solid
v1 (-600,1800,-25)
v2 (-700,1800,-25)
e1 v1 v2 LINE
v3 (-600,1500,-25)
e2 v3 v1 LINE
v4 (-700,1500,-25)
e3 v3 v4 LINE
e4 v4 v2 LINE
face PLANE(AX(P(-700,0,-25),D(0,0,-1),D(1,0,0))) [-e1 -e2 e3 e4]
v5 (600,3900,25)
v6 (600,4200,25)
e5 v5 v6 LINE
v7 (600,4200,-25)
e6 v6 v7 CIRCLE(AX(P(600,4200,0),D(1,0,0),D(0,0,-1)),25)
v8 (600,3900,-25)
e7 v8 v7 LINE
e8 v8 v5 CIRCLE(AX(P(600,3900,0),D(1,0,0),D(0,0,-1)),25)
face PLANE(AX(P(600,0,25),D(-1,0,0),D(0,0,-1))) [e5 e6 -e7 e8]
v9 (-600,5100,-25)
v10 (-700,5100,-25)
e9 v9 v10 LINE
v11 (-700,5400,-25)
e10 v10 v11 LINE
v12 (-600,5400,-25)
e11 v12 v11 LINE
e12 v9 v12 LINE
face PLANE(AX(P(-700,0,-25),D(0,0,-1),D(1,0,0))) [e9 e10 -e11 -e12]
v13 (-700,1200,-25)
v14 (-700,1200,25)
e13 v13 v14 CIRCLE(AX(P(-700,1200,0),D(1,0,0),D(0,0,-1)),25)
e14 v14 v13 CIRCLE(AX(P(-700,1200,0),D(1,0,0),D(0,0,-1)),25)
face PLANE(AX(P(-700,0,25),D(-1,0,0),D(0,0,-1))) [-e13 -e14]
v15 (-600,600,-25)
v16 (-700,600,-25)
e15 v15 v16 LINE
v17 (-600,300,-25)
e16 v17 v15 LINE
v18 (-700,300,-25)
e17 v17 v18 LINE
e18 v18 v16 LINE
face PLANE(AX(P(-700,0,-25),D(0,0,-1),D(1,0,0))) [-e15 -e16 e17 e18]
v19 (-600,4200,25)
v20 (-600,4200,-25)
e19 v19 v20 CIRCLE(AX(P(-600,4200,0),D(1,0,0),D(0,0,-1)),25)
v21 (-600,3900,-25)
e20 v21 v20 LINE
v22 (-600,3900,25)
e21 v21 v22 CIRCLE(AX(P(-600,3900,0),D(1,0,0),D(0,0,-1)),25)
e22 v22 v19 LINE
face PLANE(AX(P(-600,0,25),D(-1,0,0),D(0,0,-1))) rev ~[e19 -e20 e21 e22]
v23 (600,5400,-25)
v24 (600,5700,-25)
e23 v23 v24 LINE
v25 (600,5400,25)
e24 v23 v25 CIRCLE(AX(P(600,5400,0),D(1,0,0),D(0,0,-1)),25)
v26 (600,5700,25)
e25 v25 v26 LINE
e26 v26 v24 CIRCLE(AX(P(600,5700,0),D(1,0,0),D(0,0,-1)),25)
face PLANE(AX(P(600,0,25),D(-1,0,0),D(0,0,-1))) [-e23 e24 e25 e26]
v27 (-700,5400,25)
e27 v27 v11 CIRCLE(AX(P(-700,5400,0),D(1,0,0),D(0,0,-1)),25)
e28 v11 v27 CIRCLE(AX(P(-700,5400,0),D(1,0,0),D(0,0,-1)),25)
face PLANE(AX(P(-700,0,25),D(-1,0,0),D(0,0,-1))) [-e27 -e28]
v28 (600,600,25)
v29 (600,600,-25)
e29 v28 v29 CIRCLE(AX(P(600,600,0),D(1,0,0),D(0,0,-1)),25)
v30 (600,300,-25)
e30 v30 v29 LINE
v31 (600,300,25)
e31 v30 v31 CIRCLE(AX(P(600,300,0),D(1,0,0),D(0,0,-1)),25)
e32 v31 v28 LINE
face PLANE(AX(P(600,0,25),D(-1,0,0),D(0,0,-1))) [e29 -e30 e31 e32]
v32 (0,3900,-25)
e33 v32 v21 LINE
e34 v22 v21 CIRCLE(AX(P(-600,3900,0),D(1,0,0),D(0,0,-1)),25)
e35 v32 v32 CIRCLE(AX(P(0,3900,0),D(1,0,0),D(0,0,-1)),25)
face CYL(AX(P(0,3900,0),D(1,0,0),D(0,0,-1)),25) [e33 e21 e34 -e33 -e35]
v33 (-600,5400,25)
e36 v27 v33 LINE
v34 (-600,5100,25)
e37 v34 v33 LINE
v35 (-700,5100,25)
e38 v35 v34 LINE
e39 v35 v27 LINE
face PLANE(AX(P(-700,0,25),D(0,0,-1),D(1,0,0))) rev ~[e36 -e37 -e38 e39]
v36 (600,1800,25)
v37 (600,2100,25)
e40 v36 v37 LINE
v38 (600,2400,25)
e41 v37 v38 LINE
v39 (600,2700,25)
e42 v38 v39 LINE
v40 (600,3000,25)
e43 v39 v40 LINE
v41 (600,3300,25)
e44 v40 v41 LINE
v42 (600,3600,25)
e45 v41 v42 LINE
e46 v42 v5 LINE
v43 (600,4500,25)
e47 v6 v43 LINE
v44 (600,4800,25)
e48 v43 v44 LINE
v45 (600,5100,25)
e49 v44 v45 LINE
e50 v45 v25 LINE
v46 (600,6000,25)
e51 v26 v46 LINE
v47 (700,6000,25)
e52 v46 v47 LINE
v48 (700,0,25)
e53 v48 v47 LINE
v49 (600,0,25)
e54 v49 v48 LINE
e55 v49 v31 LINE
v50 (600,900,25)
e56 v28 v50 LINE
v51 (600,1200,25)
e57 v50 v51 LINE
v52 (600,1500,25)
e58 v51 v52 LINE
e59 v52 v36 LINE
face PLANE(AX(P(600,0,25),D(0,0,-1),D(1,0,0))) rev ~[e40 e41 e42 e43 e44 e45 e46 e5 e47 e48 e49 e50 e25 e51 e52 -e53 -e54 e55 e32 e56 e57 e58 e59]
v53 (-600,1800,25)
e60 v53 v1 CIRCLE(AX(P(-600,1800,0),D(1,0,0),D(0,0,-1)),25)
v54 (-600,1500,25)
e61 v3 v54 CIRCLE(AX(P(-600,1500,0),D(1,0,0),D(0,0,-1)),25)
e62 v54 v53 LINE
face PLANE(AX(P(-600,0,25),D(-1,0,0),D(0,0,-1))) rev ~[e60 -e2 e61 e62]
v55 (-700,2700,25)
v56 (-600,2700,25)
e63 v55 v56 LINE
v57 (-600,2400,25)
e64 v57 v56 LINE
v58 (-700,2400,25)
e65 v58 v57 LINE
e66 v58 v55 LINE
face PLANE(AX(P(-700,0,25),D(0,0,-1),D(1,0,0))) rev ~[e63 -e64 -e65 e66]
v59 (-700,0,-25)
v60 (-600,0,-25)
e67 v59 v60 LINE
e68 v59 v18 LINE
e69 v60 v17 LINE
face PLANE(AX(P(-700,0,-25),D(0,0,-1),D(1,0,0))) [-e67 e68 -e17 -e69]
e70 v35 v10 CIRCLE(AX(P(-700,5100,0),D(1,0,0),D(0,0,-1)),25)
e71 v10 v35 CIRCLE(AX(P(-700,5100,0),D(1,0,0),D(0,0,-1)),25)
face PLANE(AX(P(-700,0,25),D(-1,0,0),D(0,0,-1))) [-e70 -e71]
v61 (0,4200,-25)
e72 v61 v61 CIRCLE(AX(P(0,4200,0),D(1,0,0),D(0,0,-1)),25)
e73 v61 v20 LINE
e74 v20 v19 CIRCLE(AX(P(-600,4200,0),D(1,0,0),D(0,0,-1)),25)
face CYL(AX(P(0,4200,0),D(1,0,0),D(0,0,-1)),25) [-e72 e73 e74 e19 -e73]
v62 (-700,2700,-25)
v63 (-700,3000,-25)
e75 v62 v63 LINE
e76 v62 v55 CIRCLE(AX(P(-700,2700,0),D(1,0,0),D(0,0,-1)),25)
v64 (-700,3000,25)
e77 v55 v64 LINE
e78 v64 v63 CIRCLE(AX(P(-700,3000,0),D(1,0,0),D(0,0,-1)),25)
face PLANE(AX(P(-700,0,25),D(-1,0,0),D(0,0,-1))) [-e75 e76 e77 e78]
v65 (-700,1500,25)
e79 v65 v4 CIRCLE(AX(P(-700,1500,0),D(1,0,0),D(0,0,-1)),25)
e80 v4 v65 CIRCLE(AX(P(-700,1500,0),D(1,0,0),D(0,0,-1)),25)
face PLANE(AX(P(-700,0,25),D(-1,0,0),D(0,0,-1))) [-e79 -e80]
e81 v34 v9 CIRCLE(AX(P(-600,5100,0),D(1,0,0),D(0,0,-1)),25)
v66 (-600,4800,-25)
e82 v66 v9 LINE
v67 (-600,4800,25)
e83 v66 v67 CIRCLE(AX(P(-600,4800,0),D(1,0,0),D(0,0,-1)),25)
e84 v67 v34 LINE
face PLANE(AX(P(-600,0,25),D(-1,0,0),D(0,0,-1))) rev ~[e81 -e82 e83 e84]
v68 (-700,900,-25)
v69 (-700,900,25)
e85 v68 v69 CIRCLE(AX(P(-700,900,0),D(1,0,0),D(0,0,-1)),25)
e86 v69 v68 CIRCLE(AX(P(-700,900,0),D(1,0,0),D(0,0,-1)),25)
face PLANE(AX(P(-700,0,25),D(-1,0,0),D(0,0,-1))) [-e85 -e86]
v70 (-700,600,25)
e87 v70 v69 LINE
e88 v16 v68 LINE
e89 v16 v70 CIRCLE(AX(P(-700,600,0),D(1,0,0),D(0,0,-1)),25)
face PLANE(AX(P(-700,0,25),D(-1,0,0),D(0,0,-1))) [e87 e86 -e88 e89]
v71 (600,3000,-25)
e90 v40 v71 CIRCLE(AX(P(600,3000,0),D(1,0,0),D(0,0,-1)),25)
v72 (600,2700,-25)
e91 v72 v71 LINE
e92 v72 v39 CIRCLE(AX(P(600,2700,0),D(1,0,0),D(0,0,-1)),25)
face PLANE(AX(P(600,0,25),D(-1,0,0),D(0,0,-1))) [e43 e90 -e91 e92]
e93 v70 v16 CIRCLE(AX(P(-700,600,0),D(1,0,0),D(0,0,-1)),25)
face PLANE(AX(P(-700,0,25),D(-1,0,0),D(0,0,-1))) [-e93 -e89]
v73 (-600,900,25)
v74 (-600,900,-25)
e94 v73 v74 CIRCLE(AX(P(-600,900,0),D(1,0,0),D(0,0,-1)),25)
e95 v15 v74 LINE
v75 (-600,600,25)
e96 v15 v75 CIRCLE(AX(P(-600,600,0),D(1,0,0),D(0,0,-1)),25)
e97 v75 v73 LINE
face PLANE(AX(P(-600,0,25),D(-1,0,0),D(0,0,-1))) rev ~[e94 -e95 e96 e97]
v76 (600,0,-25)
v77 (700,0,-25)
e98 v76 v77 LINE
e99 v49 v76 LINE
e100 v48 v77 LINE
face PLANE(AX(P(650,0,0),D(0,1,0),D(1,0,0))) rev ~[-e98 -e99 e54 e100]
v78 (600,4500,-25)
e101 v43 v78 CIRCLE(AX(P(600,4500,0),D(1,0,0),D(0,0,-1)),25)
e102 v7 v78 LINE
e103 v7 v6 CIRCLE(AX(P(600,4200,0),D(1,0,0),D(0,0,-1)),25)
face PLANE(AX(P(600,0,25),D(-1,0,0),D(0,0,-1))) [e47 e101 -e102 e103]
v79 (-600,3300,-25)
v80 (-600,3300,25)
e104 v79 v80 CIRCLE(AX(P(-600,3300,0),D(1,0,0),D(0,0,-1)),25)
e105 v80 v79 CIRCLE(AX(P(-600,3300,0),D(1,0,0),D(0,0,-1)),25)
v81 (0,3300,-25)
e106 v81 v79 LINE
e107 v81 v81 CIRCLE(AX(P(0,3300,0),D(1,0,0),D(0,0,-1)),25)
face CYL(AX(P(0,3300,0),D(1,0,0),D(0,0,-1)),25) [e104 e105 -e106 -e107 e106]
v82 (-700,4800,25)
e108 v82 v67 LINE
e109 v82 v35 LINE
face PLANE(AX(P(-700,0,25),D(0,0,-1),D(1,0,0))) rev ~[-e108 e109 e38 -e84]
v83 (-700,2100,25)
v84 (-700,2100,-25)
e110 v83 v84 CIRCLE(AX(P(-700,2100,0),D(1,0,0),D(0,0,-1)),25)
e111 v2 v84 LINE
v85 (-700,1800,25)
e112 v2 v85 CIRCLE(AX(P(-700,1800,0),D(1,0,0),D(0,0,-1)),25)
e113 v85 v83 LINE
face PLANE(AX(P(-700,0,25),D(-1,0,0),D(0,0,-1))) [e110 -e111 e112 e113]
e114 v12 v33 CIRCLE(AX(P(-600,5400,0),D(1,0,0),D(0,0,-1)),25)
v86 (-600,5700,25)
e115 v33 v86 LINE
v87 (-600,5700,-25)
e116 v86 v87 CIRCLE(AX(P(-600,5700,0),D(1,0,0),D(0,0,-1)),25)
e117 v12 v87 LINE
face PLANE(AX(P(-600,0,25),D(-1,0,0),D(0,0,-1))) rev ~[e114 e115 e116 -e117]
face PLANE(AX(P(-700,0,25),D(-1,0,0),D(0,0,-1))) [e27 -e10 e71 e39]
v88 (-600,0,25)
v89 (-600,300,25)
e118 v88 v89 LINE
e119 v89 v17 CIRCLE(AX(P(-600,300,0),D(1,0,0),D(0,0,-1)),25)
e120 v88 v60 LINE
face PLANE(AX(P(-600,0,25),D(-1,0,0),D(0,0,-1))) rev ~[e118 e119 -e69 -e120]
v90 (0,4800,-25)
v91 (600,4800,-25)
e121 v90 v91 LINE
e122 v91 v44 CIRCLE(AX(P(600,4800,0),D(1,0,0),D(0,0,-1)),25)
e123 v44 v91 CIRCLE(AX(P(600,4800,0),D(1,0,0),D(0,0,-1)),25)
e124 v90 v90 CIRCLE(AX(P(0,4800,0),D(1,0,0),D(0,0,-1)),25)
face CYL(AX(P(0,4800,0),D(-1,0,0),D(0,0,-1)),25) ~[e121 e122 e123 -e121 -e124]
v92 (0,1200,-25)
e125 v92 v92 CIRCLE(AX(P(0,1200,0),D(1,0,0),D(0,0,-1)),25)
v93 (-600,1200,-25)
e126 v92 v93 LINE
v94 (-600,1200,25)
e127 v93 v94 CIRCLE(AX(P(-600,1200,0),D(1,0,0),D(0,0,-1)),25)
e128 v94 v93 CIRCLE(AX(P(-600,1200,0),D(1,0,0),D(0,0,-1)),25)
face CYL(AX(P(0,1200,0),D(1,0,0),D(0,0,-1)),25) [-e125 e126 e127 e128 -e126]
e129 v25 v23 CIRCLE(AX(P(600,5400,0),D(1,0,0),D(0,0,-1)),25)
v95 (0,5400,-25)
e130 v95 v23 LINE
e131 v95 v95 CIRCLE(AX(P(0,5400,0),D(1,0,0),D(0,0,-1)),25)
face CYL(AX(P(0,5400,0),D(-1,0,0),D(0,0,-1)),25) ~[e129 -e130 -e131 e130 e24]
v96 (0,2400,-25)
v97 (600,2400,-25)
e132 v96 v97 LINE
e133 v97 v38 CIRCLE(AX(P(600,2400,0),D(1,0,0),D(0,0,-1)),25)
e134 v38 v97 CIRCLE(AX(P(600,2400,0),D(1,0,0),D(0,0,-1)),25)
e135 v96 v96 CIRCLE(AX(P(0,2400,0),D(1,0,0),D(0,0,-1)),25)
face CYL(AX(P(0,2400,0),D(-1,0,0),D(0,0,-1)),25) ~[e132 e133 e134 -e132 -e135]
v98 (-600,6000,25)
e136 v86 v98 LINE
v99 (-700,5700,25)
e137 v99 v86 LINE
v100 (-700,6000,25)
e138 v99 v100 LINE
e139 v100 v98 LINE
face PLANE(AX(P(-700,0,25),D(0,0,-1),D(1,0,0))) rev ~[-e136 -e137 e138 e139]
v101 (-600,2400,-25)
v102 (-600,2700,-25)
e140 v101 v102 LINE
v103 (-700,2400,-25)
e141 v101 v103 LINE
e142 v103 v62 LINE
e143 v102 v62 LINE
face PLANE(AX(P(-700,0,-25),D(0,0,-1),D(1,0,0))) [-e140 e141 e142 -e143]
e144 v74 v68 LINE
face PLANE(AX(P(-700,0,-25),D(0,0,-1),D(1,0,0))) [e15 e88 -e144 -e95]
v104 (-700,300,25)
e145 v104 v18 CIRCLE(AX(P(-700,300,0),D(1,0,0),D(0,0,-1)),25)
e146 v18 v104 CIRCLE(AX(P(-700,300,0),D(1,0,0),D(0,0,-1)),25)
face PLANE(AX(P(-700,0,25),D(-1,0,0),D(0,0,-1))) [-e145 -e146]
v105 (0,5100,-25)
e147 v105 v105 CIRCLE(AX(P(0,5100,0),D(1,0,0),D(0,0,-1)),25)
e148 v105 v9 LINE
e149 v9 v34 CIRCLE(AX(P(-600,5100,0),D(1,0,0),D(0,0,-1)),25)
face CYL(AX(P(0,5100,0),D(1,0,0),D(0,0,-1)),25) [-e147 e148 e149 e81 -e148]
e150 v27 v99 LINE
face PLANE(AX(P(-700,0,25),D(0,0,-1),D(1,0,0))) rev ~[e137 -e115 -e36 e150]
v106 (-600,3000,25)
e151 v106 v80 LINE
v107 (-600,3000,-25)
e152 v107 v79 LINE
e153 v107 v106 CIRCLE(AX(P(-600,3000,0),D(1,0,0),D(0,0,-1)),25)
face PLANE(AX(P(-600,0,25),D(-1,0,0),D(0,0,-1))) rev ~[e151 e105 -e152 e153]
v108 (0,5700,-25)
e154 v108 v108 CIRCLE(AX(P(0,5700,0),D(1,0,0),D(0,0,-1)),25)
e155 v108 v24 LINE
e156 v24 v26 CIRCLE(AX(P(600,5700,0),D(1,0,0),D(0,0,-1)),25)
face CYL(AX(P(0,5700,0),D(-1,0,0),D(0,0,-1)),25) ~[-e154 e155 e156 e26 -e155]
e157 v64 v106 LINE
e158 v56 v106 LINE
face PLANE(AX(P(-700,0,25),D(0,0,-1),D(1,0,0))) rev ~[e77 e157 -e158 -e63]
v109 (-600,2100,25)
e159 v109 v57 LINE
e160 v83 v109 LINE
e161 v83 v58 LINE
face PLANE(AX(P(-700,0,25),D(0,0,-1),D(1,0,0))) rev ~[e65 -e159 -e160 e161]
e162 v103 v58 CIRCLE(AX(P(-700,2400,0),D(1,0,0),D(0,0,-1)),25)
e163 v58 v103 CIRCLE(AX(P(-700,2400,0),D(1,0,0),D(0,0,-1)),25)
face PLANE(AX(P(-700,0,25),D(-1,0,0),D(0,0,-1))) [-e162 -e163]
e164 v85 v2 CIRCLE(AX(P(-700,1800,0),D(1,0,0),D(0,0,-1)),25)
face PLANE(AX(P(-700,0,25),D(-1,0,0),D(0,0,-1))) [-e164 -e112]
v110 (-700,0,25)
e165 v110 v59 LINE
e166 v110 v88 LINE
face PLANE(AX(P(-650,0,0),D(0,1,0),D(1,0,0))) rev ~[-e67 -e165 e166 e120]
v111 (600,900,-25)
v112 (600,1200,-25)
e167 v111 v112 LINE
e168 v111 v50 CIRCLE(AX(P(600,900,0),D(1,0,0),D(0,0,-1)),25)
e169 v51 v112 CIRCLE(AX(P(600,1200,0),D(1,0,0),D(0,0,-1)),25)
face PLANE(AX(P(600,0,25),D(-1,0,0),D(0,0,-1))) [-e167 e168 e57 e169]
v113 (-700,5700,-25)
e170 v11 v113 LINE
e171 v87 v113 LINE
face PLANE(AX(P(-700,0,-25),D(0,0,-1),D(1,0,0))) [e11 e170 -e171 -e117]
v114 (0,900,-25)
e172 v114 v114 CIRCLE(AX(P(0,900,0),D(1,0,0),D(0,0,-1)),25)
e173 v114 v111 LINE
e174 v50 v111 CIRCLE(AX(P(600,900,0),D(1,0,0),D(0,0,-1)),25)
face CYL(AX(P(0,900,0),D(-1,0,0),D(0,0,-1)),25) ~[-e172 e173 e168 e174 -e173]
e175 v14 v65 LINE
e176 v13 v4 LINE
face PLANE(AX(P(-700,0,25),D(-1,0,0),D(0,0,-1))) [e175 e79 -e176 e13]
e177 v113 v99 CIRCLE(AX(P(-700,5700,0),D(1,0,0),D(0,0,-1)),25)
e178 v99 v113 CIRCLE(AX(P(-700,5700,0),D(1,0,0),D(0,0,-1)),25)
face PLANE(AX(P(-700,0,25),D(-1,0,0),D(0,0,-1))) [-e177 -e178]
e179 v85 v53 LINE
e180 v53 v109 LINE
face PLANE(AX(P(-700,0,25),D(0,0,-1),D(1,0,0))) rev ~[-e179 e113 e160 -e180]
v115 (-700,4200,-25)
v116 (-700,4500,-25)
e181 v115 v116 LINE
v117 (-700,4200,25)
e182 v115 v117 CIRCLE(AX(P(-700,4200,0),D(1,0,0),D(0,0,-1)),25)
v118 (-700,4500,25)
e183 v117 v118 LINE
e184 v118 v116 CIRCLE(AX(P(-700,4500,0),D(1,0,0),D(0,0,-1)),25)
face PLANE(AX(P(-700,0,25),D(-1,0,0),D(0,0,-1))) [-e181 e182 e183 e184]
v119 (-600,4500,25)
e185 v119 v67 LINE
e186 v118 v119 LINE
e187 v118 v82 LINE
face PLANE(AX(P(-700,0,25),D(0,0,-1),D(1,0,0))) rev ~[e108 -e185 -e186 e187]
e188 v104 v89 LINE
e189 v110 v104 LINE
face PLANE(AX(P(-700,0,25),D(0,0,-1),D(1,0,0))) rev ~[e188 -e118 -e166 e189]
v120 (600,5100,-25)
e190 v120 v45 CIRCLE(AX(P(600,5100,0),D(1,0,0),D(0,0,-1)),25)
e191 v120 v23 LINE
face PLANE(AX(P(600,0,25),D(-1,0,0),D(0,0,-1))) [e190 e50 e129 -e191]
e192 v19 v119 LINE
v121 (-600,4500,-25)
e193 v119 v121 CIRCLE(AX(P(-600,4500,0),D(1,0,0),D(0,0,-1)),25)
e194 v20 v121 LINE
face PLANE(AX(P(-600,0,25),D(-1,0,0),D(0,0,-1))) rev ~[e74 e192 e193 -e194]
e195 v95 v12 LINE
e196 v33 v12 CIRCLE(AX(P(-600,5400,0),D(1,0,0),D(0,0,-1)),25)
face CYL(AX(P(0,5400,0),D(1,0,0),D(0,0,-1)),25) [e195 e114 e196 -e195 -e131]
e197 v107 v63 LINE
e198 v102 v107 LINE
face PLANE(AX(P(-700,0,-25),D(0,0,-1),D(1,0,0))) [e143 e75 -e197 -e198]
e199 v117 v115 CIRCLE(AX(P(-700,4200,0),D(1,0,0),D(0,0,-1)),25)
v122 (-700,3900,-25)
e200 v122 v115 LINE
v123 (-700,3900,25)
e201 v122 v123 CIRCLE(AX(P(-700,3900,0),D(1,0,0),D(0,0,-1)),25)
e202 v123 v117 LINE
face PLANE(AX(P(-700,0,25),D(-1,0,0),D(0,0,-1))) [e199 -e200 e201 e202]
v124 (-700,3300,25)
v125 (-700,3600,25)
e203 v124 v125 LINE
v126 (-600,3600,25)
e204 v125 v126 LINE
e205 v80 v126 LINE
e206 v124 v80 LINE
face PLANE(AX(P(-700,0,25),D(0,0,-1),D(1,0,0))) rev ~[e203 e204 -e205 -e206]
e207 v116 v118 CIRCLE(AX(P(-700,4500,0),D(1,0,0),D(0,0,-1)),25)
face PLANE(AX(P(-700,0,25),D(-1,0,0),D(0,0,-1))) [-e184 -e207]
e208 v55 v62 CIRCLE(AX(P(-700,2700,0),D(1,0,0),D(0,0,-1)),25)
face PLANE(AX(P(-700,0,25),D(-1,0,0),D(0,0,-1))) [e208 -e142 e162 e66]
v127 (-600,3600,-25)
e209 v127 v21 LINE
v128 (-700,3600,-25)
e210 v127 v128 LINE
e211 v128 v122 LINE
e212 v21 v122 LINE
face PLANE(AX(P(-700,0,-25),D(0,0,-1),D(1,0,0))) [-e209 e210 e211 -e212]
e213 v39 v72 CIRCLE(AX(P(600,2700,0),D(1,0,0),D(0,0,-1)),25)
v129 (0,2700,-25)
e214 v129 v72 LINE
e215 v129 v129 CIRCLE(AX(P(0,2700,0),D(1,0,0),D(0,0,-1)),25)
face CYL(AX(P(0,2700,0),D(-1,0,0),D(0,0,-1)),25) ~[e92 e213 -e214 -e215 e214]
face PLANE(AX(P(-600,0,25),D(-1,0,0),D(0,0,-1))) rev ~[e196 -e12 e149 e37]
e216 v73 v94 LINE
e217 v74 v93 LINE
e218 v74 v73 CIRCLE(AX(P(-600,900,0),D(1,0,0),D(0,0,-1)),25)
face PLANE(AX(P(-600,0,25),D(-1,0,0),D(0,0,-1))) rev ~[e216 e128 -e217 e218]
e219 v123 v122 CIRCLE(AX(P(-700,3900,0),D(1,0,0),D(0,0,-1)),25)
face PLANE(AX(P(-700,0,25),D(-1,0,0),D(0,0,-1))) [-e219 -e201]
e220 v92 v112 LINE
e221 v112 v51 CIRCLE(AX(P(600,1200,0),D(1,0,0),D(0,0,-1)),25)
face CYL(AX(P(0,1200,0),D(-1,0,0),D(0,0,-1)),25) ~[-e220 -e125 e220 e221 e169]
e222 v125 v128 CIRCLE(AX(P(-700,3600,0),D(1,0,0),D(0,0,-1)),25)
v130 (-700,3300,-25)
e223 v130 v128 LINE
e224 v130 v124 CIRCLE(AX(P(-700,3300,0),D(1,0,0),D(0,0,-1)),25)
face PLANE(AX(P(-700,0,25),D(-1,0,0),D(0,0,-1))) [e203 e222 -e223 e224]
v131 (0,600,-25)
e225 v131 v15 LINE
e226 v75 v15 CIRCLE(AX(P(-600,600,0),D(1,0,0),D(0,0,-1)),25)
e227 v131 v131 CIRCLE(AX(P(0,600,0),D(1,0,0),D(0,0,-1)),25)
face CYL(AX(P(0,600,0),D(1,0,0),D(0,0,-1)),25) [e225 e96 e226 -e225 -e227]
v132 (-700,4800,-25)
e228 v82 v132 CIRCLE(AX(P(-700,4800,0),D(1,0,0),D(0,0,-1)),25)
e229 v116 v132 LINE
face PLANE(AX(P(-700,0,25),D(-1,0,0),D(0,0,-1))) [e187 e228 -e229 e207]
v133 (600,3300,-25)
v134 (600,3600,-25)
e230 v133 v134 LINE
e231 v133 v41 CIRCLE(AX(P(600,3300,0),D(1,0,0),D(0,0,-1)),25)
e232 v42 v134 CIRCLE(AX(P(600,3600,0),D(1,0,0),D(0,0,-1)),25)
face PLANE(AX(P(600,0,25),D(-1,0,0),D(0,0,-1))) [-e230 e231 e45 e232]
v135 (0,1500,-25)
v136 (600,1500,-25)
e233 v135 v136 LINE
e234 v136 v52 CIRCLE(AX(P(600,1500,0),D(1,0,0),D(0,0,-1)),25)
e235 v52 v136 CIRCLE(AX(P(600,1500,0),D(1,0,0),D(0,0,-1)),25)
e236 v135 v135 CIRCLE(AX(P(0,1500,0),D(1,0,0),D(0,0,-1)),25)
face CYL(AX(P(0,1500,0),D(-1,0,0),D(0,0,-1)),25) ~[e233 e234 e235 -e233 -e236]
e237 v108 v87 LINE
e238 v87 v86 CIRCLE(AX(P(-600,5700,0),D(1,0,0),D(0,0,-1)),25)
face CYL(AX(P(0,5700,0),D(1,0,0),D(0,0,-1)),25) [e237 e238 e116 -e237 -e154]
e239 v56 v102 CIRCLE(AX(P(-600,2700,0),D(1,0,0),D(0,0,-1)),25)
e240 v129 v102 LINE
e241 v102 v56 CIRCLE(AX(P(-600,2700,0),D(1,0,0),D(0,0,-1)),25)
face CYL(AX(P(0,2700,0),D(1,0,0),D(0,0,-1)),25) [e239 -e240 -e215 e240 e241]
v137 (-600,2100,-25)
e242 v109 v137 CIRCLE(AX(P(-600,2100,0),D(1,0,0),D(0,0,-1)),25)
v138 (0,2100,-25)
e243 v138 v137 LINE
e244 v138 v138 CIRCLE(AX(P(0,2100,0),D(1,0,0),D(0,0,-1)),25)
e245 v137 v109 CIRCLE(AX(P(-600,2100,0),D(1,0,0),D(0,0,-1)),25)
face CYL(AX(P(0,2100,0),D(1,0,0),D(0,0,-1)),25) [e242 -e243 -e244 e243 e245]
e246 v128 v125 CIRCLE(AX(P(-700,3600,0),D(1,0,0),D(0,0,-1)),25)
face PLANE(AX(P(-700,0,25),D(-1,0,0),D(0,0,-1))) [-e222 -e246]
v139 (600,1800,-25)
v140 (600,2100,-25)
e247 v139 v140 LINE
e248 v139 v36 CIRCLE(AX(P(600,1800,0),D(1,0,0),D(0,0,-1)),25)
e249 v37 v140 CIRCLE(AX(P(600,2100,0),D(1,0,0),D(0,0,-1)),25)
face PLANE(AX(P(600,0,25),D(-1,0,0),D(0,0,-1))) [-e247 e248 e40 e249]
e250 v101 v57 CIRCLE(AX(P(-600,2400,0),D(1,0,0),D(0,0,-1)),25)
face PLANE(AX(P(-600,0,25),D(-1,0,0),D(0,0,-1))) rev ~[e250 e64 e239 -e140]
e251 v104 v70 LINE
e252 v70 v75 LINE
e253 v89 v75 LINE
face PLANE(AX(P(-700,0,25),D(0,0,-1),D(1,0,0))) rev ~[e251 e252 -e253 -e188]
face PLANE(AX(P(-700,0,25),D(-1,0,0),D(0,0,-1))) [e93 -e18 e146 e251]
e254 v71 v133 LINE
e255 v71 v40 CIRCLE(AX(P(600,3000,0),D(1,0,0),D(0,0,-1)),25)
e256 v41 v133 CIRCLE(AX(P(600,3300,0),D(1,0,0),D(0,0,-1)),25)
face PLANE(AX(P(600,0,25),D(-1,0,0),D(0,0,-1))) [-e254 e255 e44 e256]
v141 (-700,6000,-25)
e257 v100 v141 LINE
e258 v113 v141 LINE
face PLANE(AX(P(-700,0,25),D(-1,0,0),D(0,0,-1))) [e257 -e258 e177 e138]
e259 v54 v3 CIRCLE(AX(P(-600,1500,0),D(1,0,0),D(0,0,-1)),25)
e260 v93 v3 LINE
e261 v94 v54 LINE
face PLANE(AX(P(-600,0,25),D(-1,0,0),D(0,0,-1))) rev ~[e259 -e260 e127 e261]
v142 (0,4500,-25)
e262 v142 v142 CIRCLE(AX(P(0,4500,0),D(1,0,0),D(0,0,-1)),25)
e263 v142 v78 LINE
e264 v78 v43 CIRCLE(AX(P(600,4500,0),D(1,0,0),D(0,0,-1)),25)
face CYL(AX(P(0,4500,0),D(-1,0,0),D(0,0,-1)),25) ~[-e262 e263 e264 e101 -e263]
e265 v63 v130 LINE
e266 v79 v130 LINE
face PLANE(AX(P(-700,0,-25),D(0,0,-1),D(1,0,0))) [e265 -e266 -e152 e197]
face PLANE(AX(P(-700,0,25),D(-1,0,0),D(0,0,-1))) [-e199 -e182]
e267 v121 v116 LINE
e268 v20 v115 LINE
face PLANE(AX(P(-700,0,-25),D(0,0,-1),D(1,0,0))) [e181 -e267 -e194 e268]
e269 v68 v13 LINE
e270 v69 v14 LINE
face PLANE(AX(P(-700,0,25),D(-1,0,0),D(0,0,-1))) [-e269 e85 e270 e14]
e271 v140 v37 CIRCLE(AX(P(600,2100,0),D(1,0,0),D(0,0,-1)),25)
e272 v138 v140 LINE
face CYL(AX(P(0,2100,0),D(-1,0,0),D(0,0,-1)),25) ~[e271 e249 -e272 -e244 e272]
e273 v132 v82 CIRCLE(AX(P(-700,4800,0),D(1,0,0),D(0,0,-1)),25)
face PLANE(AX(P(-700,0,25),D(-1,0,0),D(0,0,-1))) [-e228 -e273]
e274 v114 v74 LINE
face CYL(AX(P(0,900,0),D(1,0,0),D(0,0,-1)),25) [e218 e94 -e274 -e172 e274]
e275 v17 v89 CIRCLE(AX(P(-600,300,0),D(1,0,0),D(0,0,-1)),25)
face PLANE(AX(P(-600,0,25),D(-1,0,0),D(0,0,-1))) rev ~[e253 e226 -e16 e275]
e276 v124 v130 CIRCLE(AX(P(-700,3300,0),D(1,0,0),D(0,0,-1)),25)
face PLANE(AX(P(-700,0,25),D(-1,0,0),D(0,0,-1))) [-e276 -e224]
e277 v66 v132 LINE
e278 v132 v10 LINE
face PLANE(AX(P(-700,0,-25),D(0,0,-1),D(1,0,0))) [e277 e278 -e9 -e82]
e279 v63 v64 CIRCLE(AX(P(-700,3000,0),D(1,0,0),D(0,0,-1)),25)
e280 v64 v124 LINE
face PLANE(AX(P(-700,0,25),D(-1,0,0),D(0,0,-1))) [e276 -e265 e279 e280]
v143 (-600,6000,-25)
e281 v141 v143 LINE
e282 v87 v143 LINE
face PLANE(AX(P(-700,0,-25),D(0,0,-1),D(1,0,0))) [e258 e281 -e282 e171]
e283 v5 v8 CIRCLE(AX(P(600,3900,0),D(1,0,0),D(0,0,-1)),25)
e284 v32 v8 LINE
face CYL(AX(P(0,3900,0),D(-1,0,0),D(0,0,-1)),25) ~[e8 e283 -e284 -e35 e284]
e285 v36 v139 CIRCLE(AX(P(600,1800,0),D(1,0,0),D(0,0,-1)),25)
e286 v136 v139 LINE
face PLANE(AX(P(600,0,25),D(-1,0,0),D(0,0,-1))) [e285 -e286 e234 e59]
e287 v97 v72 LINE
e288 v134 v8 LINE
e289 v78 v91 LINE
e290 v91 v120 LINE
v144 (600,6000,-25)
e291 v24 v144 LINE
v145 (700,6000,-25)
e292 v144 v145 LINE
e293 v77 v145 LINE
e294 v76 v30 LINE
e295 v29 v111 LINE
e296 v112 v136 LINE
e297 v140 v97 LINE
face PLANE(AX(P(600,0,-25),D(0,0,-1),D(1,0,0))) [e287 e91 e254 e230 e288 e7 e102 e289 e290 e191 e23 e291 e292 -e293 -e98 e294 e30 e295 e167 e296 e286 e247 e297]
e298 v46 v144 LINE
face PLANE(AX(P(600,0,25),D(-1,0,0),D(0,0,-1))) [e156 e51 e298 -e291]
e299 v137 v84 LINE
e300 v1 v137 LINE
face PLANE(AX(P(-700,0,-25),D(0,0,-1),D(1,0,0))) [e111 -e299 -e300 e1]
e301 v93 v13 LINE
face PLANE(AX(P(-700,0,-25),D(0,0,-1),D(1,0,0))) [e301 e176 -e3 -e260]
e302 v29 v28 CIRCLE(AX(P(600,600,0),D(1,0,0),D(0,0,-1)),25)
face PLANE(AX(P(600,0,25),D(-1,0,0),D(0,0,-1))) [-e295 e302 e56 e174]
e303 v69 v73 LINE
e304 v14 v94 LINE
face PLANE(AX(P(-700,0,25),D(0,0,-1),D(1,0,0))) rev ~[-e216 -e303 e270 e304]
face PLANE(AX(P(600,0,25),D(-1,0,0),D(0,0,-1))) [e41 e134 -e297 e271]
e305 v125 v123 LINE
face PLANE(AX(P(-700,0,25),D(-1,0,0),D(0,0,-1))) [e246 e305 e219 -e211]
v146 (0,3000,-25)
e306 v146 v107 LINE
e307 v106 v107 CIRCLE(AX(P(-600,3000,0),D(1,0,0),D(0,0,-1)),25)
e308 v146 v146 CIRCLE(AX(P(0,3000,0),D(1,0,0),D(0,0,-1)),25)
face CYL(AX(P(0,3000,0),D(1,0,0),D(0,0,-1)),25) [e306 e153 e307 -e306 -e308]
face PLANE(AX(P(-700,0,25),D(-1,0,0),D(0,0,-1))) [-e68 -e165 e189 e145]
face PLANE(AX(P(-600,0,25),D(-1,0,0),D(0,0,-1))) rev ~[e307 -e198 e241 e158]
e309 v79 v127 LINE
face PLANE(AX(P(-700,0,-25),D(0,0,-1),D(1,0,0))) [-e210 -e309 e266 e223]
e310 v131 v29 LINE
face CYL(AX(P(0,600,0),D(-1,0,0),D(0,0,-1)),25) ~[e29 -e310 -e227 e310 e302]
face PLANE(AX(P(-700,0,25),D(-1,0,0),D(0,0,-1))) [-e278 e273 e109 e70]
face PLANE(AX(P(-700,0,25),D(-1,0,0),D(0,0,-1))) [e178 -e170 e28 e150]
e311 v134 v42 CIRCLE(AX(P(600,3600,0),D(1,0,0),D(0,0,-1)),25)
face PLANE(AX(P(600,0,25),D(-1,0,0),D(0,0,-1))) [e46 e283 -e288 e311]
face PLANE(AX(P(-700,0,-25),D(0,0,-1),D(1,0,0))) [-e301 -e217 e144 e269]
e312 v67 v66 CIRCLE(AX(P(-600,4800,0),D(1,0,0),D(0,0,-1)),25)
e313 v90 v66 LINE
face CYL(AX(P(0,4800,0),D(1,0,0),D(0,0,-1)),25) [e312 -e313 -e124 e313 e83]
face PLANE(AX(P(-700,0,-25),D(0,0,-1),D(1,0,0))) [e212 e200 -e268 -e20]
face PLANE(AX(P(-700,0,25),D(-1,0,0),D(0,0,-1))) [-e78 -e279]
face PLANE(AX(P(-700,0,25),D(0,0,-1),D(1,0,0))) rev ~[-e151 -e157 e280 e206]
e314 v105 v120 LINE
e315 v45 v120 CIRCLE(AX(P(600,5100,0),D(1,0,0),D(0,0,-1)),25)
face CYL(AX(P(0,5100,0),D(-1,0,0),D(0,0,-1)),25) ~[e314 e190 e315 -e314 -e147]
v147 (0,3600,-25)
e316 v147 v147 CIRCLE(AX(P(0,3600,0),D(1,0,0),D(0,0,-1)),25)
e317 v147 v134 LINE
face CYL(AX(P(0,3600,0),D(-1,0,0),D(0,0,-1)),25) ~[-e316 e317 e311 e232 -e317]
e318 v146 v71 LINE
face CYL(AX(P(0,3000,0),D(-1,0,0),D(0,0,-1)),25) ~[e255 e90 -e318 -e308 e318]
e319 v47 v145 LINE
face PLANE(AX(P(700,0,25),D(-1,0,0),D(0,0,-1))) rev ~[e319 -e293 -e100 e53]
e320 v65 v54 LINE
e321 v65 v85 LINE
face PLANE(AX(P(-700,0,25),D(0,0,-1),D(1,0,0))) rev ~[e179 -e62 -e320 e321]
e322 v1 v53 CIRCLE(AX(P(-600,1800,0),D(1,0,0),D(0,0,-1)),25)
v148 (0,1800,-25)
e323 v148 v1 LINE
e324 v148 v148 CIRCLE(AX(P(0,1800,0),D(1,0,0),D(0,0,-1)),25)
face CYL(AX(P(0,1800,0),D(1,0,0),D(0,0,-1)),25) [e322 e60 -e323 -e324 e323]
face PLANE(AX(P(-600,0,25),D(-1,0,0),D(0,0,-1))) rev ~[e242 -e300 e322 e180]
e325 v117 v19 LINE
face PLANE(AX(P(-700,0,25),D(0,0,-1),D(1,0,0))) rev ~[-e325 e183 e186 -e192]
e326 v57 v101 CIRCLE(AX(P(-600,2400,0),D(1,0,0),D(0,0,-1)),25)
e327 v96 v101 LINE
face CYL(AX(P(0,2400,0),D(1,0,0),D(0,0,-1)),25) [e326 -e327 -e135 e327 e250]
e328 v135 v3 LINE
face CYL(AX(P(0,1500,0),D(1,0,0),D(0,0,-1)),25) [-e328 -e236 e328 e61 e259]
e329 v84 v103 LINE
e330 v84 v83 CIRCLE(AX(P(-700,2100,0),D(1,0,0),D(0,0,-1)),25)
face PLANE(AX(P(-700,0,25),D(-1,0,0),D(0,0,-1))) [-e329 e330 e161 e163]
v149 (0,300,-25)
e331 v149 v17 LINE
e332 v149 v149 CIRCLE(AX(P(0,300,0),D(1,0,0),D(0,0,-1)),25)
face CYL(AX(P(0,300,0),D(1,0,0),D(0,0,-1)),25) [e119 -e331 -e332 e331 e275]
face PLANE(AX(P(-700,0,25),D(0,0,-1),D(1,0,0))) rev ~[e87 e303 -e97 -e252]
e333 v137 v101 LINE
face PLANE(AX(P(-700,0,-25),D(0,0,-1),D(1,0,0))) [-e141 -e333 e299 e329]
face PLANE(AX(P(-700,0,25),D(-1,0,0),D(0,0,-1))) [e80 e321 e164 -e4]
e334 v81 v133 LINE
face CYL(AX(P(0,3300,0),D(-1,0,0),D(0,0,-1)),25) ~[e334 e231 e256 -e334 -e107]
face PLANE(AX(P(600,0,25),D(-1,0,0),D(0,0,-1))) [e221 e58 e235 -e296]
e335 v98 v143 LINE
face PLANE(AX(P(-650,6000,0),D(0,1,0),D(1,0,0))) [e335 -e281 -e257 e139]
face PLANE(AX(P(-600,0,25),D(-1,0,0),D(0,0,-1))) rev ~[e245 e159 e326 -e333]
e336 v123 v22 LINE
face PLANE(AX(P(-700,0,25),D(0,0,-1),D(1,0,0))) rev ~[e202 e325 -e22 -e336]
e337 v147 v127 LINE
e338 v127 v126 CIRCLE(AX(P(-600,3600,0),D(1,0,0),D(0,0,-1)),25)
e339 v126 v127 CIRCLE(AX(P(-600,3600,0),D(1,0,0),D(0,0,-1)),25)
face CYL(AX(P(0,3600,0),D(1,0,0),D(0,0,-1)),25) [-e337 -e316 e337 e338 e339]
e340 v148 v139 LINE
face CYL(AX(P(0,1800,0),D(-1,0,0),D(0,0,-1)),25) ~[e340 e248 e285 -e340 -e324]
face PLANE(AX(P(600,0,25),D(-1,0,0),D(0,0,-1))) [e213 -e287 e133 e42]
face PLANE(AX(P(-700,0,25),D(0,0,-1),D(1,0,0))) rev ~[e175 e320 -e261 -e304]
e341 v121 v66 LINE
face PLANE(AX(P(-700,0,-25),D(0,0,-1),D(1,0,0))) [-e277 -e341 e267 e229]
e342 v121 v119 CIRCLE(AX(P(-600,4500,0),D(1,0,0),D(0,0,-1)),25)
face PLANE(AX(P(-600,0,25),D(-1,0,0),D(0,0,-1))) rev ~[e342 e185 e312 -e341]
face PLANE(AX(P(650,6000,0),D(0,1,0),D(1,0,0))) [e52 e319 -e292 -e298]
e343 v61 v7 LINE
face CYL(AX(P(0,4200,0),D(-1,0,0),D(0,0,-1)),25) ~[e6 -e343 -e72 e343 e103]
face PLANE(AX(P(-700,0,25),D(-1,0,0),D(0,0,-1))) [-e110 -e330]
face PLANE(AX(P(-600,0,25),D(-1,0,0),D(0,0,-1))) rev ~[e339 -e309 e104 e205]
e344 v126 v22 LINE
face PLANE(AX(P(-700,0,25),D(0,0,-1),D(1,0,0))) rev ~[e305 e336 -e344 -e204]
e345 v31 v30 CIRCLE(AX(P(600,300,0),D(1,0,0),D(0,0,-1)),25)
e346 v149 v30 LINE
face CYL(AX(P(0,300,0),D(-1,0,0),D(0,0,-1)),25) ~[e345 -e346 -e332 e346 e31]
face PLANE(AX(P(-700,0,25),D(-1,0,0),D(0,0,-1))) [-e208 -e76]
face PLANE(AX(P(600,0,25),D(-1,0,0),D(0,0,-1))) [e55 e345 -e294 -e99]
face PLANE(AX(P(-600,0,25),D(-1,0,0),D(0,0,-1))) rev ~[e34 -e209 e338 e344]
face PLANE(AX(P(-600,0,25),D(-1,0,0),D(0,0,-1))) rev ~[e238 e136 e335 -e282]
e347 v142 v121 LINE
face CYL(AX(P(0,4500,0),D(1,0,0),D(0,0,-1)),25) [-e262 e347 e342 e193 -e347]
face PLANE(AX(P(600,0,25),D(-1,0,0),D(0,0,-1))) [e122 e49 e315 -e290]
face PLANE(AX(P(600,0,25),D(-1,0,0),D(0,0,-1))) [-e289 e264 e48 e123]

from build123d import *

# Parameters (mm, degrees)
ESBO_O1_W                     = 100
ESBO_O1_H                     = 50
RESSALTO_EXTRUS_O1_DEPTH      = 6000
RESSALTO_EXTRUS_O1_2_DEPTH    = 6000
ESBO_O4_R                     = 25
RESSALTO_EXTRUS_O3_DEPTH      = 600
RESSALTO_EXTRUS_O3_DEPTH_BACK = 700


with BuildPart() as part:
    # Esboço1 → Ressalto-extrusão1 (new body)
    with BuildSketch(Plane(origin=(0, 0, 0), x_dir=(1, 0, 0), z_dir=(0, 1, 0))):
        with Locations((650, 0)):
            Rectangle(ESBO_O1_W, ESBO_O1_H)
    extrude(amount=RESSALTO_EXTRUS_O1_DEPTH)



with BuildPart() as body_2:
    # Esboço1 → Ressalto-extrus_o1 2 (new body)
    with BuildSketch(Plane(origin=(0, 0, 0), x_dir=(1, 0, 0), z_dir=(0, 1, 0))):
        with Locations((-650, 0)):
            Rectangle(ESBO_O1_W, ESBO_O1_H)
    extrude(amount=RESSALTO_EXTRUS_O1_2_DEPTH)


with BuildPart() as part_1:
    add(part.part)

    add(body_2.part)  # Ressalto-extrusão3 merges body 2
    # Esboço4 → Ressalto-extrusão3 (add, two sides)
    with BuildSketch(Plane(origin=(0, 0, 0), x_dir=(0, 0, -1), z_dir=(1, 0, 0))) as ressalto_extrus_o3_sk:
        with Locations((0, 300)):
            Circle(ESBO_O4_R)
        with Locations((0, 600)):
            Circle(ESBO_O4_R)
        with Locations((0, 900)):
            Circle(ESBO_O4_R)
        with Locations((0, 1200)):
            Circle(ESBO_O4_R)
        with Locations((0, 1500)):
            Circle(ESBO_O4_R)
        with Locations((0, 1800)):
            Circle(ESBO_O4_R)
        with Locations((0, 2100)):
            Circle(ESBO_O4_R)
        with Locations((0, 2400)):
            Circle(ESBO_O4_R)
        with Locations((0, 2700)):
            Circle(ESBO_O4_R)
        with Locations((0, 3000)):
            Circle(ESBO_O4_R)
        with Locations((0, 3300)):
            Circle(ESBO_O4_R)
        with Locations((0, 3600)):
            Circle(ESBO_O4_R)
        with Locations((0, 3900)):
            Circle(ESBO_O4_R)
        with Locations((0, 4200)):
            Circle(ESBO_O4_R)
        with Locations((0, 4500)):
            Circle(ESBO_O4_R)
        with Locations((0, 4800)):
            Circle(ESBO_O4_R)
        with Locations((0, 5100)):
            Circle(ESBO_O4_R)
        with Locations((0, 5400)):
            Circle(ESBO_O4_R)
        with Locations((0, 5700)):
            Circle(ESBO_O4_R)
    extrude(amount=RESSALTO_EXTRUS_O3_DEPTH)
    extrude(ressalto_extrus_o3_sk.sketch, amount=-RESSALTO_EXTRUS_O3_DEPTH_BACK)


solid = part_1.part
